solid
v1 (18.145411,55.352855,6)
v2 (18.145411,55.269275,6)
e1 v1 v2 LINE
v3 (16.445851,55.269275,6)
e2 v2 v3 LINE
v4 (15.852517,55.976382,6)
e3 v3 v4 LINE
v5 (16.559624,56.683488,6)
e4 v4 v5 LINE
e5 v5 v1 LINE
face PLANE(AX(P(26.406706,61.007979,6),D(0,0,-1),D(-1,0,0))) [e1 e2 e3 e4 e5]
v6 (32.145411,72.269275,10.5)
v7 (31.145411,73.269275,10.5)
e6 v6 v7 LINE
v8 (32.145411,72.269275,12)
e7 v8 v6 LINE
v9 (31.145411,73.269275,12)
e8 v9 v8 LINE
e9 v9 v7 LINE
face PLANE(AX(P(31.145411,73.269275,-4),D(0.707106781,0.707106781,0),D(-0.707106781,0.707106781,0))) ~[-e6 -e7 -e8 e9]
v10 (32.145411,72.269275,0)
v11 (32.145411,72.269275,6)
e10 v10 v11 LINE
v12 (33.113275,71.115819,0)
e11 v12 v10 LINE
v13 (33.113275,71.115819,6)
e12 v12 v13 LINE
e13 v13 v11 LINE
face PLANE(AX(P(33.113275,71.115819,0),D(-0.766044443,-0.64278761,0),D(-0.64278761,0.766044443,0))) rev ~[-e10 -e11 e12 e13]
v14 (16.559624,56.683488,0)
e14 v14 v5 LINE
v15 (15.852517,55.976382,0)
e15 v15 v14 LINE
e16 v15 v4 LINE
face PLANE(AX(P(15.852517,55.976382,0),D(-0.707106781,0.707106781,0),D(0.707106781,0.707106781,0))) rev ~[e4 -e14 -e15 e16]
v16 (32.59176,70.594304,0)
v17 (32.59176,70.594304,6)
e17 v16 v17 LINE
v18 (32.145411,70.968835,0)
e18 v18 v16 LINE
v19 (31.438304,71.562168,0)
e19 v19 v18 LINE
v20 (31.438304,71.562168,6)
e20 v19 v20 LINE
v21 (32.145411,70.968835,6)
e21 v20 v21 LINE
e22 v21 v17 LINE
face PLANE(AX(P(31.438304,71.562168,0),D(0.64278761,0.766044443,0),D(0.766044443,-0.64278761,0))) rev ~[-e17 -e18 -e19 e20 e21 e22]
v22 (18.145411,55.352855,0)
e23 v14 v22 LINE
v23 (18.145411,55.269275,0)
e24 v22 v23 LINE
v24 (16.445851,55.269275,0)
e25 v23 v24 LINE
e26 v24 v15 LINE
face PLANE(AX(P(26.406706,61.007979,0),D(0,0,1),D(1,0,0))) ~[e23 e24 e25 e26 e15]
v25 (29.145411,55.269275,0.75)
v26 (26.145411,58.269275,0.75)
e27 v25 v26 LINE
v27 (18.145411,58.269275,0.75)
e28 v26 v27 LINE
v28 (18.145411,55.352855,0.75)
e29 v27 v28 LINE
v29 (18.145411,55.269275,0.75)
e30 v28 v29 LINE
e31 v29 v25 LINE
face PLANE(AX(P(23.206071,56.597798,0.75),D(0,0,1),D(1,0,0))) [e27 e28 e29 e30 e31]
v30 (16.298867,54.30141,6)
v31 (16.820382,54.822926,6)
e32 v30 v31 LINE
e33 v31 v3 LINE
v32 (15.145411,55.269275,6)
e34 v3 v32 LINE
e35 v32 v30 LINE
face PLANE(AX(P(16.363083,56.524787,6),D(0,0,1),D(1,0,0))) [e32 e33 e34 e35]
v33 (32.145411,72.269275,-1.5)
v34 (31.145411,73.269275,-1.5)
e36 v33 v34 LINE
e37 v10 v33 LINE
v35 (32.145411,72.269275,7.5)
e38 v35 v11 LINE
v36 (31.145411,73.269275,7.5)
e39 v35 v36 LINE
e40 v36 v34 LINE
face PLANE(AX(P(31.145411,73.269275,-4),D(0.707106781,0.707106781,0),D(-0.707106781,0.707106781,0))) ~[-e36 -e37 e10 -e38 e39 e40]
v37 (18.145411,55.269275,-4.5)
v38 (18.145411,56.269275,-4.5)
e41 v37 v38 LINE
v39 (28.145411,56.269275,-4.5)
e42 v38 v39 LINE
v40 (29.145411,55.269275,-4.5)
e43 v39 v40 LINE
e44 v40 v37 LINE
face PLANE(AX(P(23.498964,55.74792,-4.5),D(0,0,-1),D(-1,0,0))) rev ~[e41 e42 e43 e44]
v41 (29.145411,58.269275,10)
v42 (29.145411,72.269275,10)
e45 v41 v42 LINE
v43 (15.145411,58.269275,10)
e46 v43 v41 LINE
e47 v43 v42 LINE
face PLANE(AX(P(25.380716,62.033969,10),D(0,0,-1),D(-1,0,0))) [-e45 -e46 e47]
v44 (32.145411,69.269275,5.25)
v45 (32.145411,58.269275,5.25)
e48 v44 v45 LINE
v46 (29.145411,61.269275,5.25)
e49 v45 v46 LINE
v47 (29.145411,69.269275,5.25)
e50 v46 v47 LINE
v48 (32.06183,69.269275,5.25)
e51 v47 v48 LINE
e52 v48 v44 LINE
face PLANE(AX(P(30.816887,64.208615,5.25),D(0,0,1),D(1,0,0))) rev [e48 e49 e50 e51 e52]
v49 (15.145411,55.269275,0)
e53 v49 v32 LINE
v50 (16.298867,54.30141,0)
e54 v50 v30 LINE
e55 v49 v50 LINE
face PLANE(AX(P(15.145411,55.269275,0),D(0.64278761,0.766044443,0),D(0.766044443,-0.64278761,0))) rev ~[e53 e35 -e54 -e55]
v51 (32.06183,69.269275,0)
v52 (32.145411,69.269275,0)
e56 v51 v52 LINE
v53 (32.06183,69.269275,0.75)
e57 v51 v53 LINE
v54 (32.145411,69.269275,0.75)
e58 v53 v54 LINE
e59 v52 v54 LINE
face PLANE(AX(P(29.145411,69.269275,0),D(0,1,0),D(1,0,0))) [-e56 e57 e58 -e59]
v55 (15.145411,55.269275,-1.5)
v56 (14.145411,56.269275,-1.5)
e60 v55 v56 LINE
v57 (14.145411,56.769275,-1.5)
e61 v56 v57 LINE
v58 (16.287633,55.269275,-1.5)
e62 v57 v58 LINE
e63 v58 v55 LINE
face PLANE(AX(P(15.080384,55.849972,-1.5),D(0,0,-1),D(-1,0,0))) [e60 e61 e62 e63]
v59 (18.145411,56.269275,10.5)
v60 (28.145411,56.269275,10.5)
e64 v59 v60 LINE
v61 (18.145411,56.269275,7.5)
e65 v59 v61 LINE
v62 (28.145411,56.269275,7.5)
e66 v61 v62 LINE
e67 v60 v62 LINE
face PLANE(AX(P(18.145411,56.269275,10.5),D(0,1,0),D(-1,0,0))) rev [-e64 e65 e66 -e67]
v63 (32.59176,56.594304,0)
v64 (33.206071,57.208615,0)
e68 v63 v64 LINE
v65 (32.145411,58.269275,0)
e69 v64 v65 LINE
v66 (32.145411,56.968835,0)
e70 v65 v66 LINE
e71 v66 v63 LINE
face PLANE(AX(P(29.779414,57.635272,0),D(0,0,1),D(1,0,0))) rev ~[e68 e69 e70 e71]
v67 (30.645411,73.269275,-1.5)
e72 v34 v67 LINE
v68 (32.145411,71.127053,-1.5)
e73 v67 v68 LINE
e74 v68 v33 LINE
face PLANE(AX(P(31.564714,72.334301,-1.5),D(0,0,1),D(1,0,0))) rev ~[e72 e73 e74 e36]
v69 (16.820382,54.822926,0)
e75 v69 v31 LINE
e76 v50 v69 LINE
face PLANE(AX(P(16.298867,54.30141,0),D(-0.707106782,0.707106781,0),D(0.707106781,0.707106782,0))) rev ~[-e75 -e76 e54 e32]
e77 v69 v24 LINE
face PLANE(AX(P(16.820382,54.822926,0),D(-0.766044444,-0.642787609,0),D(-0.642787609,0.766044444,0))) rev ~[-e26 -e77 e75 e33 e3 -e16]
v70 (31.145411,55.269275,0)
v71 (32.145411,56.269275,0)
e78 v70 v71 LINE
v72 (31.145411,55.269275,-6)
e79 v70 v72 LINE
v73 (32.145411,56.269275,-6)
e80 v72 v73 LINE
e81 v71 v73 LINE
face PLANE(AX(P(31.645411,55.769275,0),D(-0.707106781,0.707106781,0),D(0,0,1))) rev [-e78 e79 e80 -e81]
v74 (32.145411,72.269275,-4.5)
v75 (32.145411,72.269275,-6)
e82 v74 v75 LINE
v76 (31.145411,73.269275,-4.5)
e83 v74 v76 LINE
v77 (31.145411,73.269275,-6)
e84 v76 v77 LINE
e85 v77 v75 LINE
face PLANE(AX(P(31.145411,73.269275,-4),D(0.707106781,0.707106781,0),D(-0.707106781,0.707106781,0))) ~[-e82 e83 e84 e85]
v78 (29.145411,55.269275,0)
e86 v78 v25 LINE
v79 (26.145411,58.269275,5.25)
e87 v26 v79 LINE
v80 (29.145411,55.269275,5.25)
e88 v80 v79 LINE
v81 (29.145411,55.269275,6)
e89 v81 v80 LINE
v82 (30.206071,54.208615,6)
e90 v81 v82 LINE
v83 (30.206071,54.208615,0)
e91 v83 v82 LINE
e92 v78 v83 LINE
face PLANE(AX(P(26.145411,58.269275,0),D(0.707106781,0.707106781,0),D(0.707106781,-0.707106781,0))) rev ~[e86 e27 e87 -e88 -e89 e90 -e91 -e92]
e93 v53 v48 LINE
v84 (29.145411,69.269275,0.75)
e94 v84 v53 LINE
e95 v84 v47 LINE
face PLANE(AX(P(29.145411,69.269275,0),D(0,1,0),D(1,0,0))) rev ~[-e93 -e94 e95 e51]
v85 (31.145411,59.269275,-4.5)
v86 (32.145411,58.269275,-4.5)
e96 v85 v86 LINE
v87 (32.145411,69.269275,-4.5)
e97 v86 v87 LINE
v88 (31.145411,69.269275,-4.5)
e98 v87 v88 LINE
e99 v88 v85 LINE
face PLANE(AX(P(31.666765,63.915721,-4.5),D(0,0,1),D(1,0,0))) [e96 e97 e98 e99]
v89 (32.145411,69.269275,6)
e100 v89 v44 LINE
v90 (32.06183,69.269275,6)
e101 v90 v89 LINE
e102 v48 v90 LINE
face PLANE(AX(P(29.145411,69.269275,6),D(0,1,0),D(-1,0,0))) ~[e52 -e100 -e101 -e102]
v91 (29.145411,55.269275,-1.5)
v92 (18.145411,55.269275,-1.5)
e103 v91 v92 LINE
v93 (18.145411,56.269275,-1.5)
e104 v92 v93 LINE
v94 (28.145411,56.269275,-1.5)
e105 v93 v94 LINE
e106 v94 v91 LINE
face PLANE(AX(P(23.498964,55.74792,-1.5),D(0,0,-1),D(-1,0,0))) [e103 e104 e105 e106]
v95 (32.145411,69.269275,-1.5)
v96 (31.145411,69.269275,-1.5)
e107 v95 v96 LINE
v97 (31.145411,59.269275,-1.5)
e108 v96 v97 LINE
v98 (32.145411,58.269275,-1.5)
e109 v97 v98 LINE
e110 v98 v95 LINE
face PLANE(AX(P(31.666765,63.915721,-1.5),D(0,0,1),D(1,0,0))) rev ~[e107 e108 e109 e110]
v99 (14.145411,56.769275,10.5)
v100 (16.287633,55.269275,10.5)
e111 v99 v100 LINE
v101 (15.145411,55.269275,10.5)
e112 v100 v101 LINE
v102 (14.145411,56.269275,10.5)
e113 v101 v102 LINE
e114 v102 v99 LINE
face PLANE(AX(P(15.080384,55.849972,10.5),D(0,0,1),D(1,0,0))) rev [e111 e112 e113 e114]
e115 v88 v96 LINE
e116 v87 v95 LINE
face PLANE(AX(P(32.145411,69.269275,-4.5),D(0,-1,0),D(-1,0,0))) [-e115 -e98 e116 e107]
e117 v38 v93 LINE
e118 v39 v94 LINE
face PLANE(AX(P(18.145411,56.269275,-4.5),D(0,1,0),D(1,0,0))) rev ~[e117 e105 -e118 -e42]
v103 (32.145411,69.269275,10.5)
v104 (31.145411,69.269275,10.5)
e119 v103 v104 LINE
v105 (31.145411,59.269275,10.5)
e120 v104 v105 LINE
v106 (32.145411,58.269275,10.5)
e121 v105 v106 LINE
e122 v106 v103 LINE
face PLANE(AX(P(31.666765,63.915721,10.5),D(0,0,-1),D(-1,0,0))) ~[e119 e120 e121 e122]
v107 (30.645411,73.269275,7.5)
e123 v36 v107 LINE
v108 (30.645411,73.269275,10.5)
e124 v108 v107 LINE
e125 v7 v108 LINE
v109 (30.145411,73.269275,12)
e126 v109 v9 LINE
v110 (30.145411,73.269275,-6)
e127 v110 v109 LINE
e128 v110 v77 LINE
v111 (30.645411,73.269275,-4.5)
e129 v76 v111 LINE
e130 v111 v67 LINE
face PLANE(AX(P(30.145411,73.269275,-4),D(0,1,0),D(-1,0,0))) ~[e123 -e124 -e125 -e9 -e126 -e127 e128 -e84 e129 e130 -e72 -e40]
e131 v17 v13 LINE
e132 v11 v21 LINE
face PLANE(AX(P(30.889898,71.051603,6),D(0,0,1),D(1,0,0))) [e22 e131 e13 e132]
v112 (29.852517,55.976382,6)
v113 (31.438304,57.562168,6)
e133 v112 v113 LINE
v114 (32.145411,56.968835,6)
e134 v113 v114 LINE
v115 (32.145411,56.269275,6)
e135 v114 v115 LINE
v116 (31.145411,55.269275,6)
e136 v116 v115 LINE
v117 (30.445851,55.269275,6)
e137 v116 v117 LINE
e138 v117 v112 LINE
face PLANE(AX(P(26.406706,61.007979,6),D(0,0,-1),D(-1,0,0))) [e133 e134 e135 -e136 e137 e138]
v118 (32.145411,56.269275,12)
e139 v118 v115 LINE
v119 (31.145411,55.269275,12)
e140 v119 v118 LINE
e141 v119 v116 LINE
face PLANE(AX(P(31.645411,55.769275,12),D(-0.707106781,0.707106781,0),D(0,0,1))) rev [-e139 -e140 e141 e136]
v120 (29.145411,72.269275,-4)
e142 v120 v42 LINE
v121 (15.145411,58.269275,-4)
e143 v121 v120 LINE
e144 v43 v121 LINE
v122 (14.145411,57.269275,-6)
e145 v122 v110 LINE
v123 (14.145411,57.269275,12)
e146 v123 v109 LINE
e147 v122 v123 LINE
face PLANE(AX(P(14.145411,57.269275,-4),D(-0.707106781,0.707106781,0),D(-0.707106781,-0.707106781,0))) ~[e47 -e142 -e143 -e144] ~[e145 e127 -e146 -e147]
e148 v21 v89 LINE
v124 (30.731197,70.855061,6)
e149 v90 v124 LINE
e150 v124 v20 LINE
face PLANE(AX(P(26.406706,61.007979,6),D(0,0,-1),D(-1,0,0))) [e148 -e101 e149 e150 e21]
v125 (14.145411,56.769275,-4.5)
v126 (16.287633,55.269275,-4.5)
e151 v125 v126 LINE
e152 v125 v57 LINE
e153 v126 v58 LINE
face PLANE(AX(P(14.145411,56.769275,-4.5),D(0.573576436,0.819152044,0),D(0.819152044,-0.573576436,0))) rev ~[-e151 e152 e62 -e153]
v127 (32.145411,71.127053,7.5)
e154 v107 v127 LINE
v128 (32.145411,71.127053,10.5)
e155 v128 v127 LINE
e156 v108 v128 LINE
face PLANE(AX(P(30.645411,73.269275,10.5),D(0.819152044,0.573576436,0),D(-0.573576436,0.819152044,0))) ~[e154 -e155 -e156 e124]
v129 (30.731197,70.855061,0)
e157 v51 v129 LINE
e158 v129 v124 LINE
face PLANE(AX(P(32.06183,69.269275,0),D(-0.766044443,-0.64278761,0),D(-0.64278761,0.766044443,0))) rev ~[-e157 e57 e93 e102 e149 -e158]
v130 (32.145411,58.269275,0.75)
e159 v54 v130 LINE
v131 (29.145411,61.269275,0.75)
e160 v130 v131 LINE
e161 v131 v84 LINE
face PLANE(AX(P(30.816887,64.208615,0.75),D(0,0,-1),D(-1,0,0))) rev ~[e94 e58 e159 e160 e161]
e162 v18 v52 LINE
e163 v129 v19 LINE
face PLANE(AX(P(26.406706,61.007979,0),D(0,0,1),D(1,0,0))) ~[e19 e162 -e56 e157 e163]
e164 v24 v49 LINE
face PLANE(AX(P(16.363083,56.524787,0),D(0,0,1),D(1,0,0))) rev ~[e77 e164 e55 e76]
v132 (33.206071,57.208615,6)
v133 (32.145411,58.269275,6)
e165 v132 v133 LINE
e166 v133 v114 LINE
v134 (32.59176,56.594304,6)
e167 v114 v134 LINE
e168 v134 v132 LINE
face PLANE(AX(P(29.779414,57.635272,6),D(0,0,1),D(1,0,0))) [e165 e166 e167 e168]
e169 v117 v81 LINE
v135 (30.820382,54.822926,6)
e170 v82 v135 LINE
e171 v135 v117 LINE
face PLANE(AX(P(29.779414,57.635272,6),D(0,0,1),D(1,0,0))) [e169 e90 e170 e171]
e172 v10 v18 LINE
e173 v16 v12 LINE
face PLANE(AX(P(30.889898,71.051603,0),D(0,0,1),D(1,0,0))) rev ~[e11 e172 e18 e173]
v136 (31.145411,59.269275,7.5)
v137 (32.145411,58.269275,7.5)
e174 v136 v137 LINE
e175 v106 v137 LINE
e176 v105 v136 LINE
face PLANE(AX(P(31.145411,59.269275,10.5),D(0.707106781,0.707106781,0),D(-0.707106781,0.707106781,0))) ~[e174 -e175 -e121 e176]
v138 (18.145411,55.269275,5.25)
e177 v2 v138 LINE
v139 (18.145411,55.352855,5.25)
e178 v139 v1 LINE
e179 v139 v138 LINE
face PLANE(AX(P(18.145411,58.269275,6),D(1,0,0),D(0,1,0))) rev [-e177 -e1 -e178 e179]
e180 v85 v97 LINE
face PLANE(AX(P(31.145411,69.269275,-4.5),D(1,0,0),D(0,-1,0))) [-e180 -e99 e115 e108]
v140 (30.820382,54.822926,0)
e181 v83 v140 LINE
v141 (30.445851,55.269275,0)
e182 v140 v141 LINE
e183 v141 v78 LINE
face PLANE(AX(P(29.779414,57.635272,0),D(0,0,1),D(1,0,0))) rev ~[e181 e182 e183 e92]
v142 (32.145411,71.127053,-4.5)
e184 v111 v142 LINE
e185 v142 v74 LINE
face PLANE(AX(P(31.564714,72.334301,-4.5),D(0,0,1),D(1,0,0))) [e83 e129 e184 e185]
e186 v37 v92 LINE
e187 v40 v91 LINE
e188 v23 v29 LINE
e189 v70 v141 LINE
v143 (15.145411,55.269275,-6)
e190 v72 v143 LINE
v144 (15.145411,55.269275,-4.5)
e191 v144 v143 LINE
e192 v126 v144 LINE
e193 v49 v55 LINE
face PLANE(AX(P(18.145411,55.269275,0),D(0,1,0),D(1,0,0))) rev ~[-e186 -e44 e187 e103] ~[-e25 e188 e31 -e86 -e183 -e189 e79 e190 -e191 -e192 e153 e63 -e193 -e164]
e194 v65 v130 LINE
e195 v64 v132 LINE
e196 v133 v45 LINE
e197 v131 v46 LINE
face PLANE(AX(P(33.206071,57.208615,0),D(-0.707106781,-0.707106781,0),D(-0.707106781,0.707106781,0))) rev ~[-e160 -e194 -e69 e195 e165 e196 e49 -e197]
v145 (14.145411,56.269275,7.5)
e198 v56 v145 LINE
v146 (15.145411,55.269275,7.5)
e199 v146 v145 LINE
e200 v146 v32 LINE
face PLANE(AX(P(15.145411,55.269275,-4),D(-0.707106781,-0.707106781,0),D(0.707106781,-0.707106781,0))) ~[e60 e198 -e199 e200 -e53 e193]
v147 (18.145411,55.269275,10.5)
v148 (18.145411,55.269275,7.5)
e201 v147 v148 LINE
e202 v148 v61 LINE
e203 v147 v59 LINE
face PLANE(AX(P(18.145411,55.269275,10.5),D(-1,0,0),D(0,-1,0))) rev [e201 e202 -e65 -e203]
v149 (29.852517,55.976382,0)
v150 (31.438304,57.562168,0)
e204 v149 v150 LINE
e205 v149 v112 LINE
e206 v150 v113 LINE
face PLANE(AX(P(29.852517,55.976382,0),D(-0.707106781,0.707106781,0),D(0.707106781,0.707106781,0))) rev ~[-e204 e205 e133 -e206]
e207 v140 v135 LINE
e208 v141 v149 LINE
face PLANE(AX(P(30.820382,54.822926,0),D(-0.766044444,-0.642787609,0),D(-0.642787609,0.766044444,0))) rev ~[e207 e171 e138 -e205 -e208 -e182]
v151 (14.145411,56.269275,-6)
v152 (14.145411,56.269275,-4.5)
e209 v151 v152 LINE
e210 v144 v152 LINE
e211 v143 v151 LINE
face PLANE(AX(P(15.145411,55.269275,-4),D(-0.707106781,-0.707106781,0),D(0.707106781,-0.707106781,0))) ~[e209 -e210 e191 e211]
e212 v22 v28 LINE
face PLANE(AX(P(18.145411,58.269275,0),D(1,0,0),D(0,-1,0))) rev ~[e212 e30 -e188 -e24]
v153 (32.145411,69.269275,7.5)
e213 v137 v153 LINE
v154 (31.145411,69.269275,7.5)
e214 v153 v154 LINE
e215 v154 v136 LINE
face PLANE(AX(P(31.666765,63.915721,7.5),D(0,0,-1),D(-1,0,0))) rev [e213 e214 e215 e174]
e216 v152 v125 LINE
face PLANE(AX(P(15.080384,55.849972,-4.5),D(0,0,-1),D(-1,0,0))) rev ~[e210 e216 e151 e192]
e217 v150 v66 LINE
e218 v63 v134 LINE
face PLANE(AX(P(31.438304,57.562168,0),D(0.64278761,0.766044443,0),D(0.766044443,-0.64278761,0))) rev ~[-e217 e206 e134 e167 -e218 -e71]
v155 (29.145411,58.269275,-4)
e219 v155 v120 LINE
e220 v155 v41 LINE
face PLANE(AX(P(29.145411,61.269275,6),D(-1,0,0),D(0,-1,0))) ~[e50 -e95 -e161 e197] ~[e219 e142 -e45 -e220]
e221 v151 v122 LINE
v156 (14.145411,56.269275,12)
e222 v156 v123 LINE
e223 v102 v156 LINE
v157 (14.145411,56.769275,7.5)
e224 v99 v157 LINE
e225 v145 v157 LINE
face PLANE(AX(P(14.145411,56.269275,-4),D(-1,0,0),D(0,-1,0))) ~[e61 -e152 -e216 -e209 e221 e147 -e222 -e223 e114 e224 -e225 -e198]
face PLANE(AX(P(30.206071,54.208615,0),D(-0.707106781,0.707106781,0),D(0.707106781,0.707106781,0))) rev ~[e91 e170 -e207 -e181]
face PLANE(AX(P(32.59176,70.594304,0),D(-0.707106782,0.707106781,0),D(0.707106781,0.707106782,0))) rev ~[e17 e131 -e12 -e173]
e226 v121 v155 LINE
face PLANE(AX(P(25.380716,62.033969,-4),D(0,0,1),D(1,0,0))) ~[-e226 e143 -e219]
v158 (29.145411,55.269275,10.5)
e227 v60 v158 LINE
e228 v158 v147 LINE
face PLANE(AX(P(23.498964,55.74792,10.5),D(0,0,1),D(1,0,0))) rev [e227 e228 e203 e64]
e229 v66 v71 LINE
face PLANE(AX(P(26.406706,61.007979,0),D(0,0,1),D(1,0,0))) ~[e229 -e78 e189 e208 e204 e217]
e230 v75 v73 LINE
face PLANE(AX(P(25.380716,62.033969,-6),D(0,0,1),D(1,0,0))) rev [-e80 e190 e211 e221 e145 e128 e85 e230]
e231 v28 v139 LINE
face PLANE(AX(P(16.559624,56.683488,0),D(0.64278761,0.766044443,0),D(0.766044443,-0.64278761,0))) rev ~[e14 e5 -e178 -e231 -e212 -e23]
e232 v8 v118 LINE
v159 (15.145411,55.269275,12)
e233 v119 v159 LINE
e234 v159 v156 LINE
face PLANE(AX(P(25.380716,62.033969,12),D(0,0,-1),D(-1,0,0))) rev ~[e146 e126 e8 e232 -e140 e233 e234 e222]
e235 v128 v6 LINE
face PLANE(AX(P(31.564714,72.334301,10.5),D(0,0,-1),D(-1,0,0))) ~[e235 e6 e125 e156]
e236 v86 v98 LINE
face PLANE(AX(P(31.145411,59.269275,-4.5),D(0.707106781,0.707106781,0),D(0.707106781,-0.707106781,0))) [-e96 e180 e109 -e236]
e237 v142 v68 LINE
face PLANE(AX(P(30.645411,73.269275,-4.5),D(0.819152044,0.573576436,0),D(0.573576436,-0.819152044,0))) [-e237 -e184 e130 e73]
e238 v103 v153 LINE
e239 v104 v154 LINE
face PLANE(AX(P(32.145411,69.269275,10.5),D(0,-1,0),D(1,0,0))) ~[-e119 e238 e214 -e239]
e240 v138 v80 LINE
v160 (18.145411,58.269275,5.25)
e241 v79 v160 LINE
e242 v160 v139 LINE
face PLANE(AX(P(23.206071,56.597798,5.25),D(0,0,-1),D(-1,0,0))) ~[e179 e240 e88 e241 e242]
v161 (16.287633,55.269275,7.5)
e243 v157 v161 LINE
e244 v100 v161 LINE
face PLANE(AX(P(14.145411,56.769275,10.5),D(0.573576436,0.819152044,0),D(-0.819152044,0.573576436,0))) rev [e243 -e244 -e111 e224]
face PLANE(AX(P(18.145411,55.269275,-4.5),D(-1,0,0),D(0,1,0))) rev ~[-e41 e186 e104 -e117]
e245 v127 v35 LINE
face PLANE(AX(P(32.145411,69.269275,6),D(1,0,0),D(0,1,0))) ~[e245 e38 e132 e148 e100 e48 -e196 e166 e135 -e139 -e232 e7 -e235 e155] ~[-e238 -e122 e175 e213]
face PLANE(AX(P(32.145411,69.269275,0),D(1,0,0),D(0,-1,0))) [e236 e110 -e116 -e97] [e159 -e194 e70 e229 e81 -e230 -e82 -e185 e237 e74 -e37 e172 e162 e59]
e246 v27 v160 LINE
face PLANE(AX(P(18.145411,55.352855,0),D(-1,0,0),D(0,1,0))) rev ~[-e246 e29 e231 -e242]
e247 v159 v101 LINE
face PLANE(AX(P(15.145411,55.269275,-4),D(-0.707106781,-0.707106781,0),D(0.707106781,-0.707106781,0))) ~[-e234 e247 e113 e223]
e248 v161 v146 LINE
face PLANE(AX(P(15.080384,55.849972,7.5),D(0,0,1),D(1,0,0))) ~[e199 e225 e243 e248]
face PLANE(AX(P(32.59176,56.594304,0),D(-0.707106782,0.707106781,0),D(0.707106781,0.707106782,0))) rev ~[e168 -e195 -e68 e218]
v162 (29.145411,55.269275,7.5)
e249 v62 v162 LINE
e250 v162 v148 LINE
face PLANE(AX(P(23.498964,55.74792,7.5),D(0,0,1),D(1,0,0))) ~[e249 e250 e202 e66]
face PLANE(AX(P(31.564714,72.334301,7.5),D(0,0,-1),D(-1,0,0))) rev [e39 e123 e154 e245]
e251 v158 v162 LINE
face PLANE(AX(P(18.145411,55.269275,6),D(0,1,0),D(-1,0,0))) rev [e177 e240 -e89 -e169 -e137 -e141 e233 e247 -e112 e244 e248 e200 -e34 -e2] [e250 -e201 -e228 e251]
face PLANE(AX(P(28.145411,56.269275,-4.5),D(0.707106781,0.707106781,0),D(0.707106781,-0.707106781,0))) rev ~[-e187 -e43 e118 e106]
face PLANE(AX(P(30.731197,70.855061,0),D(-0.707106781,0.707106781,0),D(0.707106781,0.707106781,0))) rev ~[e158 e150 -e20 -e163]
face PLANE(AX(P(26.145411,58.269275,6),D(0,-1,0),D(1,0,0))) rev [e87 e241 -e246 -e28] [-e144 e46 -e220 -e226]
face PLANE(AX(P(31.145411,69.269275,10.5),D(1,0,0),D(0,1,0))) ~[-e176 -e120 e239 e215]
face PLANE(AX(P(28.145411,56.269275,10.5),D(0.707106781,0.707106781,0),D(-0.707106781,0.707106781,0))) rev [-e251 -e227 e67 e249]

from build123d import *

# Parameters (mm, degrees)
EXTRUDE_1_DEPTH     = 6
EXTRUDE_1_2_DEPTH   = 6
EXTRUDE_1_3_DEPTH   = 6
EXTRUDE_2_DEPTH     = 4
EXTRUDE_3_DEPTH     = 2
EXTRUDE_4_DEPTH     = 0.75
EXTRUDE_5_DEPTH     = 0.75
CUT_EXTRUDE_2_DEPTH = 3
CUT_EXTRUDE_3_DEPTH = 3
CUT_EXTRUDE_4_DEPTH = 3
CUT_EXTRUDE_5_DEPTH = 3
CHAMFER_1_SIZE      = 1


with BuildPart() as part:
    # 草图1 → 拉伸1 (new body)
    with BuildSketch(Plane.XY):
        Polygon((32.591759834, 56.594303521), (33.206070874, 57.208614562), (29.145410702, 61.269274733), (29.145410702, 58.269274733), (26.145410702, 58.269274733), (30.206070874, 54.208614562), (30.820381914, 54.822925602), (29.852517484, 55.976381515), (31.438303921, 57.562167952), align=None)
    extrude(amount=EXTRUDE_1_DEPTH)



with BuildPart() as body_2:
    # 草图1 → Extrude 1 2 (new body)
    with BuildSketch(Plane.XY):
        Polygon((18.145410702, 55.352855481), (18.145410702, 58.269274733), (15.145410702, 58.269274733), (14.145410702, 57.269274733), (14.145410702, 56.269274733), (15.145410702, 55.269274733), (16.298866615, 54.301410302), (16.820381914, 54.822925602), (15.852517484, 55.976381515), (16.559624265, 56.683488296), align=None)
    extrude(amount=EXTRUDE_1_2_DEPTH)


with BuildPart() as body_3:
    # 草图1 → Extrude 1 3 (new body)
    with BuildSketch(Plane.XY):
        Polygon((31.438303921, 71.562167952), (32.591759834, 70.594303521), (33.113275133, 71.115818821), (32.145410702, 72.269274733), (31.145410702, 73.269274733), (30.145410702, 73.269274733), (29.145410702, 72.269274733), (29.145410702, 69.269274733), (32.061829955, 69.269274733), (30.73119714, 70.855061171), align=None)
    extrude(amount=EXTRUDE_1_3_DEPTH)


with BuildPart() as part_1:
    add(part.part)

    add(body_2.part)  # 拉伸2 merges body 2

    add(body_3.part)  # 拉伸2 merges body 3
    # 草图2 → 拉伸2 (add)
    with BuildSketch(Plane.XY.offset(6)):
        Polygon((30.145410702, 73.269274733), (31.145410702, 73.269274733), (32.145410702, 72.269274733), (32.145410702, 55.269274733), (15.145410702, 55.269274733), (14.145410702, 56.269274733), (14.145410702, 57.269274733), (15.145410702, 58.269274733), (29.145410702, 58.269274733), (29.145410702, 72.269274733), align=None)
    extrude_2 = extrude(amount=EXTRUDE_2_DEPTH)

    # 镜向1: 拉伸2 across plane
    add(extrude_2.mirror(Plane(origin=(0, 0, 3), x_dir=(1, 0, 0), z_dir=(0, 0, -1))))

    # 草图3 → 拉伸3 (add)
    with BuildSketch(Plane.XY.offset(10)):
        Polygon((30.145410702, 73.269274733), (31.145410702, 73.269274733), (32.145410702, 72.269274733), (32.145410702, 55.269274733), (15.145410702, 55.269274733), (14.145410702, 56.269274733), (14.145410702, 57.269274733), align=None)
    extrude_3 = extrude(amount=EXTRUDE_3_DEPTH)

    # 镜向2: 拉伸3 across plane
    add(extrude_3.mirror(Plane(origin=(0, 0, 3), x_dir=(1, 0, 0), z_dir=(0, 0, -1))))

    # 草图4 → 拉伸4 (add)
    with BuildSketch(Plane.XY):
        Polygon((29.145410702, 69.269274733), (32.145410702, 69.269274733), (32.145410702, 58.269274733), (29.145410702, 61.269274733), align=None)
    extrude_4 = extrude(amount=EXTRUDE_4_DEPTH)

    # 镜向3: 拉伸4 across plane
    add(extrude_4.mirror(Plane(origin=(0, 0, 3), x_dir=(1, 0, 0), z_dir=(0, 0, -1))))

    # 草图5 → 拉伸5 (add)
    with BuildSketch(Plane.XY):
        Polygon((26.145410702, 58.269274733), (18.145410702, 58.269274733), (18.145410702, 55.269274733), (29.145410702, 55.269274733), align=None)
    extrude_5 = extrude(amount=EXTRUDE_5_DEPTH)

    # 镜向4: 拉伸5 across plane
    add(extrude_5.mirror(Plane(origin=(0, 0, 3), x_dir=(1, 0, 0), z_dir=(0, 0, -1))))

    # 草图7 → 切除-拉伸2 (cut)
    with BuildSketch(Plane(origin=(0, 0, -4.5), x_dir=(-1, 0, 0), z_dir=(0, 0, -1))):
        Polygon((-32.145410702, 69.269274733), (-31.145410702, 69.269274733), (-31.145410702, 59.269274733), (-32.145410702, 58.269274733), align=None)
    cut_extrude_2 = extrude(amount=-CUT_EXTRUDE_2_DEPTH, mode=Mode.SUBTRACT)

    # 草图8 → 切除-拉伸3 (cut)
    with BuildSketch(Plane(origin=(0, 0, -4.5), x_dir=(-1, 0, 0), z_dir=(0, 0, -1))):
        Polygon((-18.145410702, 55.269274733), (-18.145410702, 56.269274733), (-28.145410702, 56.269274733), (-29.145410702, 55.269274733), align=None)
    cut_extrude_3 = extrude(amount=-CUT_EXTRUDE_3_DEPTH, mode=Mode.SUBTRACT)

    # 镜向5: 切除-拉伸2, 切除-拉伸3 across plane
    add(cut_extrude_2.mirror(Plane(origin=(0, 0, 3), x_dir=(1, 0, 0), z_dir=(0, 0, -1))), mode=Mode.SUBTRACT)
    add(cut_extrude_3.mirror(Plane(origin=(0, 0, 3), x_dir=(1, 0, 0), z_dir=(0, 0, -1))), mode=Mode.SUBTRACT)

    # 草图9 → 切除-拉伸4 (cut)
    with BuildSketch(Plane(origin=(0, 0, -4.5), x_dir=(-1, 0, 0), z_dir=(0, 0, -1))):
        Polygon((-30.645410702, 73.269274733), (-32.145410702, 71.127052723), (-32.145410702, 72.269274733), (-31.145410702, 73.269274733), align=None)
    cut_extrude_4 = extrude(amount=-CUT_EXTRUDE_4_DEPTH, mode=Mode.SUBTRACT)

    # 草图10 → 切除-拉伸5 (cut)
    with BuildSketch(Plane(origin=(0, 0, -4.5), x_dir=(-1, 0, 0), z_dir=(0, 0, -1))):
        Polygon((-14.145410702, 56.769274733), (-16.287632713, 55.269274733), (-15.145410702, 55.269274733), (-14.145410702, 56.269274733), align=None)
    cut_extrude_5 = extrude(amount=-CUT_EXTRUDE_5_DEPTH, mode=Mode.SUBTRACT)

    # 镜向6: 切除-拉伸4, 切除-拉伸5 across plane
    add(cut_extrude_4.mirror(Plane(origin=(0, 0, 3), x_dir=(1, 0, 0), z_dir=(0, 0, -1))), mode=Mode.SUBTRACT)
    add(cut_extrude_5.mirror(Plane(origin=(0, 0, 3), x_dir=(1, 0, 0), z_dir=(0, 0, -1))), mode=Mode.SUBTRACT)

    # 倒角1
    chamfer_1_edges = [part_1.edges().sort_by_distance(p)[0] for p in [
        (32.145410702, 55.269274733, -3),
        (32.145410702, 55.269274733, 9),
    ]]
    chamfer(chamfer_1_edges, length=CHAMFER_1_SIZE)


solid = part_1.part
